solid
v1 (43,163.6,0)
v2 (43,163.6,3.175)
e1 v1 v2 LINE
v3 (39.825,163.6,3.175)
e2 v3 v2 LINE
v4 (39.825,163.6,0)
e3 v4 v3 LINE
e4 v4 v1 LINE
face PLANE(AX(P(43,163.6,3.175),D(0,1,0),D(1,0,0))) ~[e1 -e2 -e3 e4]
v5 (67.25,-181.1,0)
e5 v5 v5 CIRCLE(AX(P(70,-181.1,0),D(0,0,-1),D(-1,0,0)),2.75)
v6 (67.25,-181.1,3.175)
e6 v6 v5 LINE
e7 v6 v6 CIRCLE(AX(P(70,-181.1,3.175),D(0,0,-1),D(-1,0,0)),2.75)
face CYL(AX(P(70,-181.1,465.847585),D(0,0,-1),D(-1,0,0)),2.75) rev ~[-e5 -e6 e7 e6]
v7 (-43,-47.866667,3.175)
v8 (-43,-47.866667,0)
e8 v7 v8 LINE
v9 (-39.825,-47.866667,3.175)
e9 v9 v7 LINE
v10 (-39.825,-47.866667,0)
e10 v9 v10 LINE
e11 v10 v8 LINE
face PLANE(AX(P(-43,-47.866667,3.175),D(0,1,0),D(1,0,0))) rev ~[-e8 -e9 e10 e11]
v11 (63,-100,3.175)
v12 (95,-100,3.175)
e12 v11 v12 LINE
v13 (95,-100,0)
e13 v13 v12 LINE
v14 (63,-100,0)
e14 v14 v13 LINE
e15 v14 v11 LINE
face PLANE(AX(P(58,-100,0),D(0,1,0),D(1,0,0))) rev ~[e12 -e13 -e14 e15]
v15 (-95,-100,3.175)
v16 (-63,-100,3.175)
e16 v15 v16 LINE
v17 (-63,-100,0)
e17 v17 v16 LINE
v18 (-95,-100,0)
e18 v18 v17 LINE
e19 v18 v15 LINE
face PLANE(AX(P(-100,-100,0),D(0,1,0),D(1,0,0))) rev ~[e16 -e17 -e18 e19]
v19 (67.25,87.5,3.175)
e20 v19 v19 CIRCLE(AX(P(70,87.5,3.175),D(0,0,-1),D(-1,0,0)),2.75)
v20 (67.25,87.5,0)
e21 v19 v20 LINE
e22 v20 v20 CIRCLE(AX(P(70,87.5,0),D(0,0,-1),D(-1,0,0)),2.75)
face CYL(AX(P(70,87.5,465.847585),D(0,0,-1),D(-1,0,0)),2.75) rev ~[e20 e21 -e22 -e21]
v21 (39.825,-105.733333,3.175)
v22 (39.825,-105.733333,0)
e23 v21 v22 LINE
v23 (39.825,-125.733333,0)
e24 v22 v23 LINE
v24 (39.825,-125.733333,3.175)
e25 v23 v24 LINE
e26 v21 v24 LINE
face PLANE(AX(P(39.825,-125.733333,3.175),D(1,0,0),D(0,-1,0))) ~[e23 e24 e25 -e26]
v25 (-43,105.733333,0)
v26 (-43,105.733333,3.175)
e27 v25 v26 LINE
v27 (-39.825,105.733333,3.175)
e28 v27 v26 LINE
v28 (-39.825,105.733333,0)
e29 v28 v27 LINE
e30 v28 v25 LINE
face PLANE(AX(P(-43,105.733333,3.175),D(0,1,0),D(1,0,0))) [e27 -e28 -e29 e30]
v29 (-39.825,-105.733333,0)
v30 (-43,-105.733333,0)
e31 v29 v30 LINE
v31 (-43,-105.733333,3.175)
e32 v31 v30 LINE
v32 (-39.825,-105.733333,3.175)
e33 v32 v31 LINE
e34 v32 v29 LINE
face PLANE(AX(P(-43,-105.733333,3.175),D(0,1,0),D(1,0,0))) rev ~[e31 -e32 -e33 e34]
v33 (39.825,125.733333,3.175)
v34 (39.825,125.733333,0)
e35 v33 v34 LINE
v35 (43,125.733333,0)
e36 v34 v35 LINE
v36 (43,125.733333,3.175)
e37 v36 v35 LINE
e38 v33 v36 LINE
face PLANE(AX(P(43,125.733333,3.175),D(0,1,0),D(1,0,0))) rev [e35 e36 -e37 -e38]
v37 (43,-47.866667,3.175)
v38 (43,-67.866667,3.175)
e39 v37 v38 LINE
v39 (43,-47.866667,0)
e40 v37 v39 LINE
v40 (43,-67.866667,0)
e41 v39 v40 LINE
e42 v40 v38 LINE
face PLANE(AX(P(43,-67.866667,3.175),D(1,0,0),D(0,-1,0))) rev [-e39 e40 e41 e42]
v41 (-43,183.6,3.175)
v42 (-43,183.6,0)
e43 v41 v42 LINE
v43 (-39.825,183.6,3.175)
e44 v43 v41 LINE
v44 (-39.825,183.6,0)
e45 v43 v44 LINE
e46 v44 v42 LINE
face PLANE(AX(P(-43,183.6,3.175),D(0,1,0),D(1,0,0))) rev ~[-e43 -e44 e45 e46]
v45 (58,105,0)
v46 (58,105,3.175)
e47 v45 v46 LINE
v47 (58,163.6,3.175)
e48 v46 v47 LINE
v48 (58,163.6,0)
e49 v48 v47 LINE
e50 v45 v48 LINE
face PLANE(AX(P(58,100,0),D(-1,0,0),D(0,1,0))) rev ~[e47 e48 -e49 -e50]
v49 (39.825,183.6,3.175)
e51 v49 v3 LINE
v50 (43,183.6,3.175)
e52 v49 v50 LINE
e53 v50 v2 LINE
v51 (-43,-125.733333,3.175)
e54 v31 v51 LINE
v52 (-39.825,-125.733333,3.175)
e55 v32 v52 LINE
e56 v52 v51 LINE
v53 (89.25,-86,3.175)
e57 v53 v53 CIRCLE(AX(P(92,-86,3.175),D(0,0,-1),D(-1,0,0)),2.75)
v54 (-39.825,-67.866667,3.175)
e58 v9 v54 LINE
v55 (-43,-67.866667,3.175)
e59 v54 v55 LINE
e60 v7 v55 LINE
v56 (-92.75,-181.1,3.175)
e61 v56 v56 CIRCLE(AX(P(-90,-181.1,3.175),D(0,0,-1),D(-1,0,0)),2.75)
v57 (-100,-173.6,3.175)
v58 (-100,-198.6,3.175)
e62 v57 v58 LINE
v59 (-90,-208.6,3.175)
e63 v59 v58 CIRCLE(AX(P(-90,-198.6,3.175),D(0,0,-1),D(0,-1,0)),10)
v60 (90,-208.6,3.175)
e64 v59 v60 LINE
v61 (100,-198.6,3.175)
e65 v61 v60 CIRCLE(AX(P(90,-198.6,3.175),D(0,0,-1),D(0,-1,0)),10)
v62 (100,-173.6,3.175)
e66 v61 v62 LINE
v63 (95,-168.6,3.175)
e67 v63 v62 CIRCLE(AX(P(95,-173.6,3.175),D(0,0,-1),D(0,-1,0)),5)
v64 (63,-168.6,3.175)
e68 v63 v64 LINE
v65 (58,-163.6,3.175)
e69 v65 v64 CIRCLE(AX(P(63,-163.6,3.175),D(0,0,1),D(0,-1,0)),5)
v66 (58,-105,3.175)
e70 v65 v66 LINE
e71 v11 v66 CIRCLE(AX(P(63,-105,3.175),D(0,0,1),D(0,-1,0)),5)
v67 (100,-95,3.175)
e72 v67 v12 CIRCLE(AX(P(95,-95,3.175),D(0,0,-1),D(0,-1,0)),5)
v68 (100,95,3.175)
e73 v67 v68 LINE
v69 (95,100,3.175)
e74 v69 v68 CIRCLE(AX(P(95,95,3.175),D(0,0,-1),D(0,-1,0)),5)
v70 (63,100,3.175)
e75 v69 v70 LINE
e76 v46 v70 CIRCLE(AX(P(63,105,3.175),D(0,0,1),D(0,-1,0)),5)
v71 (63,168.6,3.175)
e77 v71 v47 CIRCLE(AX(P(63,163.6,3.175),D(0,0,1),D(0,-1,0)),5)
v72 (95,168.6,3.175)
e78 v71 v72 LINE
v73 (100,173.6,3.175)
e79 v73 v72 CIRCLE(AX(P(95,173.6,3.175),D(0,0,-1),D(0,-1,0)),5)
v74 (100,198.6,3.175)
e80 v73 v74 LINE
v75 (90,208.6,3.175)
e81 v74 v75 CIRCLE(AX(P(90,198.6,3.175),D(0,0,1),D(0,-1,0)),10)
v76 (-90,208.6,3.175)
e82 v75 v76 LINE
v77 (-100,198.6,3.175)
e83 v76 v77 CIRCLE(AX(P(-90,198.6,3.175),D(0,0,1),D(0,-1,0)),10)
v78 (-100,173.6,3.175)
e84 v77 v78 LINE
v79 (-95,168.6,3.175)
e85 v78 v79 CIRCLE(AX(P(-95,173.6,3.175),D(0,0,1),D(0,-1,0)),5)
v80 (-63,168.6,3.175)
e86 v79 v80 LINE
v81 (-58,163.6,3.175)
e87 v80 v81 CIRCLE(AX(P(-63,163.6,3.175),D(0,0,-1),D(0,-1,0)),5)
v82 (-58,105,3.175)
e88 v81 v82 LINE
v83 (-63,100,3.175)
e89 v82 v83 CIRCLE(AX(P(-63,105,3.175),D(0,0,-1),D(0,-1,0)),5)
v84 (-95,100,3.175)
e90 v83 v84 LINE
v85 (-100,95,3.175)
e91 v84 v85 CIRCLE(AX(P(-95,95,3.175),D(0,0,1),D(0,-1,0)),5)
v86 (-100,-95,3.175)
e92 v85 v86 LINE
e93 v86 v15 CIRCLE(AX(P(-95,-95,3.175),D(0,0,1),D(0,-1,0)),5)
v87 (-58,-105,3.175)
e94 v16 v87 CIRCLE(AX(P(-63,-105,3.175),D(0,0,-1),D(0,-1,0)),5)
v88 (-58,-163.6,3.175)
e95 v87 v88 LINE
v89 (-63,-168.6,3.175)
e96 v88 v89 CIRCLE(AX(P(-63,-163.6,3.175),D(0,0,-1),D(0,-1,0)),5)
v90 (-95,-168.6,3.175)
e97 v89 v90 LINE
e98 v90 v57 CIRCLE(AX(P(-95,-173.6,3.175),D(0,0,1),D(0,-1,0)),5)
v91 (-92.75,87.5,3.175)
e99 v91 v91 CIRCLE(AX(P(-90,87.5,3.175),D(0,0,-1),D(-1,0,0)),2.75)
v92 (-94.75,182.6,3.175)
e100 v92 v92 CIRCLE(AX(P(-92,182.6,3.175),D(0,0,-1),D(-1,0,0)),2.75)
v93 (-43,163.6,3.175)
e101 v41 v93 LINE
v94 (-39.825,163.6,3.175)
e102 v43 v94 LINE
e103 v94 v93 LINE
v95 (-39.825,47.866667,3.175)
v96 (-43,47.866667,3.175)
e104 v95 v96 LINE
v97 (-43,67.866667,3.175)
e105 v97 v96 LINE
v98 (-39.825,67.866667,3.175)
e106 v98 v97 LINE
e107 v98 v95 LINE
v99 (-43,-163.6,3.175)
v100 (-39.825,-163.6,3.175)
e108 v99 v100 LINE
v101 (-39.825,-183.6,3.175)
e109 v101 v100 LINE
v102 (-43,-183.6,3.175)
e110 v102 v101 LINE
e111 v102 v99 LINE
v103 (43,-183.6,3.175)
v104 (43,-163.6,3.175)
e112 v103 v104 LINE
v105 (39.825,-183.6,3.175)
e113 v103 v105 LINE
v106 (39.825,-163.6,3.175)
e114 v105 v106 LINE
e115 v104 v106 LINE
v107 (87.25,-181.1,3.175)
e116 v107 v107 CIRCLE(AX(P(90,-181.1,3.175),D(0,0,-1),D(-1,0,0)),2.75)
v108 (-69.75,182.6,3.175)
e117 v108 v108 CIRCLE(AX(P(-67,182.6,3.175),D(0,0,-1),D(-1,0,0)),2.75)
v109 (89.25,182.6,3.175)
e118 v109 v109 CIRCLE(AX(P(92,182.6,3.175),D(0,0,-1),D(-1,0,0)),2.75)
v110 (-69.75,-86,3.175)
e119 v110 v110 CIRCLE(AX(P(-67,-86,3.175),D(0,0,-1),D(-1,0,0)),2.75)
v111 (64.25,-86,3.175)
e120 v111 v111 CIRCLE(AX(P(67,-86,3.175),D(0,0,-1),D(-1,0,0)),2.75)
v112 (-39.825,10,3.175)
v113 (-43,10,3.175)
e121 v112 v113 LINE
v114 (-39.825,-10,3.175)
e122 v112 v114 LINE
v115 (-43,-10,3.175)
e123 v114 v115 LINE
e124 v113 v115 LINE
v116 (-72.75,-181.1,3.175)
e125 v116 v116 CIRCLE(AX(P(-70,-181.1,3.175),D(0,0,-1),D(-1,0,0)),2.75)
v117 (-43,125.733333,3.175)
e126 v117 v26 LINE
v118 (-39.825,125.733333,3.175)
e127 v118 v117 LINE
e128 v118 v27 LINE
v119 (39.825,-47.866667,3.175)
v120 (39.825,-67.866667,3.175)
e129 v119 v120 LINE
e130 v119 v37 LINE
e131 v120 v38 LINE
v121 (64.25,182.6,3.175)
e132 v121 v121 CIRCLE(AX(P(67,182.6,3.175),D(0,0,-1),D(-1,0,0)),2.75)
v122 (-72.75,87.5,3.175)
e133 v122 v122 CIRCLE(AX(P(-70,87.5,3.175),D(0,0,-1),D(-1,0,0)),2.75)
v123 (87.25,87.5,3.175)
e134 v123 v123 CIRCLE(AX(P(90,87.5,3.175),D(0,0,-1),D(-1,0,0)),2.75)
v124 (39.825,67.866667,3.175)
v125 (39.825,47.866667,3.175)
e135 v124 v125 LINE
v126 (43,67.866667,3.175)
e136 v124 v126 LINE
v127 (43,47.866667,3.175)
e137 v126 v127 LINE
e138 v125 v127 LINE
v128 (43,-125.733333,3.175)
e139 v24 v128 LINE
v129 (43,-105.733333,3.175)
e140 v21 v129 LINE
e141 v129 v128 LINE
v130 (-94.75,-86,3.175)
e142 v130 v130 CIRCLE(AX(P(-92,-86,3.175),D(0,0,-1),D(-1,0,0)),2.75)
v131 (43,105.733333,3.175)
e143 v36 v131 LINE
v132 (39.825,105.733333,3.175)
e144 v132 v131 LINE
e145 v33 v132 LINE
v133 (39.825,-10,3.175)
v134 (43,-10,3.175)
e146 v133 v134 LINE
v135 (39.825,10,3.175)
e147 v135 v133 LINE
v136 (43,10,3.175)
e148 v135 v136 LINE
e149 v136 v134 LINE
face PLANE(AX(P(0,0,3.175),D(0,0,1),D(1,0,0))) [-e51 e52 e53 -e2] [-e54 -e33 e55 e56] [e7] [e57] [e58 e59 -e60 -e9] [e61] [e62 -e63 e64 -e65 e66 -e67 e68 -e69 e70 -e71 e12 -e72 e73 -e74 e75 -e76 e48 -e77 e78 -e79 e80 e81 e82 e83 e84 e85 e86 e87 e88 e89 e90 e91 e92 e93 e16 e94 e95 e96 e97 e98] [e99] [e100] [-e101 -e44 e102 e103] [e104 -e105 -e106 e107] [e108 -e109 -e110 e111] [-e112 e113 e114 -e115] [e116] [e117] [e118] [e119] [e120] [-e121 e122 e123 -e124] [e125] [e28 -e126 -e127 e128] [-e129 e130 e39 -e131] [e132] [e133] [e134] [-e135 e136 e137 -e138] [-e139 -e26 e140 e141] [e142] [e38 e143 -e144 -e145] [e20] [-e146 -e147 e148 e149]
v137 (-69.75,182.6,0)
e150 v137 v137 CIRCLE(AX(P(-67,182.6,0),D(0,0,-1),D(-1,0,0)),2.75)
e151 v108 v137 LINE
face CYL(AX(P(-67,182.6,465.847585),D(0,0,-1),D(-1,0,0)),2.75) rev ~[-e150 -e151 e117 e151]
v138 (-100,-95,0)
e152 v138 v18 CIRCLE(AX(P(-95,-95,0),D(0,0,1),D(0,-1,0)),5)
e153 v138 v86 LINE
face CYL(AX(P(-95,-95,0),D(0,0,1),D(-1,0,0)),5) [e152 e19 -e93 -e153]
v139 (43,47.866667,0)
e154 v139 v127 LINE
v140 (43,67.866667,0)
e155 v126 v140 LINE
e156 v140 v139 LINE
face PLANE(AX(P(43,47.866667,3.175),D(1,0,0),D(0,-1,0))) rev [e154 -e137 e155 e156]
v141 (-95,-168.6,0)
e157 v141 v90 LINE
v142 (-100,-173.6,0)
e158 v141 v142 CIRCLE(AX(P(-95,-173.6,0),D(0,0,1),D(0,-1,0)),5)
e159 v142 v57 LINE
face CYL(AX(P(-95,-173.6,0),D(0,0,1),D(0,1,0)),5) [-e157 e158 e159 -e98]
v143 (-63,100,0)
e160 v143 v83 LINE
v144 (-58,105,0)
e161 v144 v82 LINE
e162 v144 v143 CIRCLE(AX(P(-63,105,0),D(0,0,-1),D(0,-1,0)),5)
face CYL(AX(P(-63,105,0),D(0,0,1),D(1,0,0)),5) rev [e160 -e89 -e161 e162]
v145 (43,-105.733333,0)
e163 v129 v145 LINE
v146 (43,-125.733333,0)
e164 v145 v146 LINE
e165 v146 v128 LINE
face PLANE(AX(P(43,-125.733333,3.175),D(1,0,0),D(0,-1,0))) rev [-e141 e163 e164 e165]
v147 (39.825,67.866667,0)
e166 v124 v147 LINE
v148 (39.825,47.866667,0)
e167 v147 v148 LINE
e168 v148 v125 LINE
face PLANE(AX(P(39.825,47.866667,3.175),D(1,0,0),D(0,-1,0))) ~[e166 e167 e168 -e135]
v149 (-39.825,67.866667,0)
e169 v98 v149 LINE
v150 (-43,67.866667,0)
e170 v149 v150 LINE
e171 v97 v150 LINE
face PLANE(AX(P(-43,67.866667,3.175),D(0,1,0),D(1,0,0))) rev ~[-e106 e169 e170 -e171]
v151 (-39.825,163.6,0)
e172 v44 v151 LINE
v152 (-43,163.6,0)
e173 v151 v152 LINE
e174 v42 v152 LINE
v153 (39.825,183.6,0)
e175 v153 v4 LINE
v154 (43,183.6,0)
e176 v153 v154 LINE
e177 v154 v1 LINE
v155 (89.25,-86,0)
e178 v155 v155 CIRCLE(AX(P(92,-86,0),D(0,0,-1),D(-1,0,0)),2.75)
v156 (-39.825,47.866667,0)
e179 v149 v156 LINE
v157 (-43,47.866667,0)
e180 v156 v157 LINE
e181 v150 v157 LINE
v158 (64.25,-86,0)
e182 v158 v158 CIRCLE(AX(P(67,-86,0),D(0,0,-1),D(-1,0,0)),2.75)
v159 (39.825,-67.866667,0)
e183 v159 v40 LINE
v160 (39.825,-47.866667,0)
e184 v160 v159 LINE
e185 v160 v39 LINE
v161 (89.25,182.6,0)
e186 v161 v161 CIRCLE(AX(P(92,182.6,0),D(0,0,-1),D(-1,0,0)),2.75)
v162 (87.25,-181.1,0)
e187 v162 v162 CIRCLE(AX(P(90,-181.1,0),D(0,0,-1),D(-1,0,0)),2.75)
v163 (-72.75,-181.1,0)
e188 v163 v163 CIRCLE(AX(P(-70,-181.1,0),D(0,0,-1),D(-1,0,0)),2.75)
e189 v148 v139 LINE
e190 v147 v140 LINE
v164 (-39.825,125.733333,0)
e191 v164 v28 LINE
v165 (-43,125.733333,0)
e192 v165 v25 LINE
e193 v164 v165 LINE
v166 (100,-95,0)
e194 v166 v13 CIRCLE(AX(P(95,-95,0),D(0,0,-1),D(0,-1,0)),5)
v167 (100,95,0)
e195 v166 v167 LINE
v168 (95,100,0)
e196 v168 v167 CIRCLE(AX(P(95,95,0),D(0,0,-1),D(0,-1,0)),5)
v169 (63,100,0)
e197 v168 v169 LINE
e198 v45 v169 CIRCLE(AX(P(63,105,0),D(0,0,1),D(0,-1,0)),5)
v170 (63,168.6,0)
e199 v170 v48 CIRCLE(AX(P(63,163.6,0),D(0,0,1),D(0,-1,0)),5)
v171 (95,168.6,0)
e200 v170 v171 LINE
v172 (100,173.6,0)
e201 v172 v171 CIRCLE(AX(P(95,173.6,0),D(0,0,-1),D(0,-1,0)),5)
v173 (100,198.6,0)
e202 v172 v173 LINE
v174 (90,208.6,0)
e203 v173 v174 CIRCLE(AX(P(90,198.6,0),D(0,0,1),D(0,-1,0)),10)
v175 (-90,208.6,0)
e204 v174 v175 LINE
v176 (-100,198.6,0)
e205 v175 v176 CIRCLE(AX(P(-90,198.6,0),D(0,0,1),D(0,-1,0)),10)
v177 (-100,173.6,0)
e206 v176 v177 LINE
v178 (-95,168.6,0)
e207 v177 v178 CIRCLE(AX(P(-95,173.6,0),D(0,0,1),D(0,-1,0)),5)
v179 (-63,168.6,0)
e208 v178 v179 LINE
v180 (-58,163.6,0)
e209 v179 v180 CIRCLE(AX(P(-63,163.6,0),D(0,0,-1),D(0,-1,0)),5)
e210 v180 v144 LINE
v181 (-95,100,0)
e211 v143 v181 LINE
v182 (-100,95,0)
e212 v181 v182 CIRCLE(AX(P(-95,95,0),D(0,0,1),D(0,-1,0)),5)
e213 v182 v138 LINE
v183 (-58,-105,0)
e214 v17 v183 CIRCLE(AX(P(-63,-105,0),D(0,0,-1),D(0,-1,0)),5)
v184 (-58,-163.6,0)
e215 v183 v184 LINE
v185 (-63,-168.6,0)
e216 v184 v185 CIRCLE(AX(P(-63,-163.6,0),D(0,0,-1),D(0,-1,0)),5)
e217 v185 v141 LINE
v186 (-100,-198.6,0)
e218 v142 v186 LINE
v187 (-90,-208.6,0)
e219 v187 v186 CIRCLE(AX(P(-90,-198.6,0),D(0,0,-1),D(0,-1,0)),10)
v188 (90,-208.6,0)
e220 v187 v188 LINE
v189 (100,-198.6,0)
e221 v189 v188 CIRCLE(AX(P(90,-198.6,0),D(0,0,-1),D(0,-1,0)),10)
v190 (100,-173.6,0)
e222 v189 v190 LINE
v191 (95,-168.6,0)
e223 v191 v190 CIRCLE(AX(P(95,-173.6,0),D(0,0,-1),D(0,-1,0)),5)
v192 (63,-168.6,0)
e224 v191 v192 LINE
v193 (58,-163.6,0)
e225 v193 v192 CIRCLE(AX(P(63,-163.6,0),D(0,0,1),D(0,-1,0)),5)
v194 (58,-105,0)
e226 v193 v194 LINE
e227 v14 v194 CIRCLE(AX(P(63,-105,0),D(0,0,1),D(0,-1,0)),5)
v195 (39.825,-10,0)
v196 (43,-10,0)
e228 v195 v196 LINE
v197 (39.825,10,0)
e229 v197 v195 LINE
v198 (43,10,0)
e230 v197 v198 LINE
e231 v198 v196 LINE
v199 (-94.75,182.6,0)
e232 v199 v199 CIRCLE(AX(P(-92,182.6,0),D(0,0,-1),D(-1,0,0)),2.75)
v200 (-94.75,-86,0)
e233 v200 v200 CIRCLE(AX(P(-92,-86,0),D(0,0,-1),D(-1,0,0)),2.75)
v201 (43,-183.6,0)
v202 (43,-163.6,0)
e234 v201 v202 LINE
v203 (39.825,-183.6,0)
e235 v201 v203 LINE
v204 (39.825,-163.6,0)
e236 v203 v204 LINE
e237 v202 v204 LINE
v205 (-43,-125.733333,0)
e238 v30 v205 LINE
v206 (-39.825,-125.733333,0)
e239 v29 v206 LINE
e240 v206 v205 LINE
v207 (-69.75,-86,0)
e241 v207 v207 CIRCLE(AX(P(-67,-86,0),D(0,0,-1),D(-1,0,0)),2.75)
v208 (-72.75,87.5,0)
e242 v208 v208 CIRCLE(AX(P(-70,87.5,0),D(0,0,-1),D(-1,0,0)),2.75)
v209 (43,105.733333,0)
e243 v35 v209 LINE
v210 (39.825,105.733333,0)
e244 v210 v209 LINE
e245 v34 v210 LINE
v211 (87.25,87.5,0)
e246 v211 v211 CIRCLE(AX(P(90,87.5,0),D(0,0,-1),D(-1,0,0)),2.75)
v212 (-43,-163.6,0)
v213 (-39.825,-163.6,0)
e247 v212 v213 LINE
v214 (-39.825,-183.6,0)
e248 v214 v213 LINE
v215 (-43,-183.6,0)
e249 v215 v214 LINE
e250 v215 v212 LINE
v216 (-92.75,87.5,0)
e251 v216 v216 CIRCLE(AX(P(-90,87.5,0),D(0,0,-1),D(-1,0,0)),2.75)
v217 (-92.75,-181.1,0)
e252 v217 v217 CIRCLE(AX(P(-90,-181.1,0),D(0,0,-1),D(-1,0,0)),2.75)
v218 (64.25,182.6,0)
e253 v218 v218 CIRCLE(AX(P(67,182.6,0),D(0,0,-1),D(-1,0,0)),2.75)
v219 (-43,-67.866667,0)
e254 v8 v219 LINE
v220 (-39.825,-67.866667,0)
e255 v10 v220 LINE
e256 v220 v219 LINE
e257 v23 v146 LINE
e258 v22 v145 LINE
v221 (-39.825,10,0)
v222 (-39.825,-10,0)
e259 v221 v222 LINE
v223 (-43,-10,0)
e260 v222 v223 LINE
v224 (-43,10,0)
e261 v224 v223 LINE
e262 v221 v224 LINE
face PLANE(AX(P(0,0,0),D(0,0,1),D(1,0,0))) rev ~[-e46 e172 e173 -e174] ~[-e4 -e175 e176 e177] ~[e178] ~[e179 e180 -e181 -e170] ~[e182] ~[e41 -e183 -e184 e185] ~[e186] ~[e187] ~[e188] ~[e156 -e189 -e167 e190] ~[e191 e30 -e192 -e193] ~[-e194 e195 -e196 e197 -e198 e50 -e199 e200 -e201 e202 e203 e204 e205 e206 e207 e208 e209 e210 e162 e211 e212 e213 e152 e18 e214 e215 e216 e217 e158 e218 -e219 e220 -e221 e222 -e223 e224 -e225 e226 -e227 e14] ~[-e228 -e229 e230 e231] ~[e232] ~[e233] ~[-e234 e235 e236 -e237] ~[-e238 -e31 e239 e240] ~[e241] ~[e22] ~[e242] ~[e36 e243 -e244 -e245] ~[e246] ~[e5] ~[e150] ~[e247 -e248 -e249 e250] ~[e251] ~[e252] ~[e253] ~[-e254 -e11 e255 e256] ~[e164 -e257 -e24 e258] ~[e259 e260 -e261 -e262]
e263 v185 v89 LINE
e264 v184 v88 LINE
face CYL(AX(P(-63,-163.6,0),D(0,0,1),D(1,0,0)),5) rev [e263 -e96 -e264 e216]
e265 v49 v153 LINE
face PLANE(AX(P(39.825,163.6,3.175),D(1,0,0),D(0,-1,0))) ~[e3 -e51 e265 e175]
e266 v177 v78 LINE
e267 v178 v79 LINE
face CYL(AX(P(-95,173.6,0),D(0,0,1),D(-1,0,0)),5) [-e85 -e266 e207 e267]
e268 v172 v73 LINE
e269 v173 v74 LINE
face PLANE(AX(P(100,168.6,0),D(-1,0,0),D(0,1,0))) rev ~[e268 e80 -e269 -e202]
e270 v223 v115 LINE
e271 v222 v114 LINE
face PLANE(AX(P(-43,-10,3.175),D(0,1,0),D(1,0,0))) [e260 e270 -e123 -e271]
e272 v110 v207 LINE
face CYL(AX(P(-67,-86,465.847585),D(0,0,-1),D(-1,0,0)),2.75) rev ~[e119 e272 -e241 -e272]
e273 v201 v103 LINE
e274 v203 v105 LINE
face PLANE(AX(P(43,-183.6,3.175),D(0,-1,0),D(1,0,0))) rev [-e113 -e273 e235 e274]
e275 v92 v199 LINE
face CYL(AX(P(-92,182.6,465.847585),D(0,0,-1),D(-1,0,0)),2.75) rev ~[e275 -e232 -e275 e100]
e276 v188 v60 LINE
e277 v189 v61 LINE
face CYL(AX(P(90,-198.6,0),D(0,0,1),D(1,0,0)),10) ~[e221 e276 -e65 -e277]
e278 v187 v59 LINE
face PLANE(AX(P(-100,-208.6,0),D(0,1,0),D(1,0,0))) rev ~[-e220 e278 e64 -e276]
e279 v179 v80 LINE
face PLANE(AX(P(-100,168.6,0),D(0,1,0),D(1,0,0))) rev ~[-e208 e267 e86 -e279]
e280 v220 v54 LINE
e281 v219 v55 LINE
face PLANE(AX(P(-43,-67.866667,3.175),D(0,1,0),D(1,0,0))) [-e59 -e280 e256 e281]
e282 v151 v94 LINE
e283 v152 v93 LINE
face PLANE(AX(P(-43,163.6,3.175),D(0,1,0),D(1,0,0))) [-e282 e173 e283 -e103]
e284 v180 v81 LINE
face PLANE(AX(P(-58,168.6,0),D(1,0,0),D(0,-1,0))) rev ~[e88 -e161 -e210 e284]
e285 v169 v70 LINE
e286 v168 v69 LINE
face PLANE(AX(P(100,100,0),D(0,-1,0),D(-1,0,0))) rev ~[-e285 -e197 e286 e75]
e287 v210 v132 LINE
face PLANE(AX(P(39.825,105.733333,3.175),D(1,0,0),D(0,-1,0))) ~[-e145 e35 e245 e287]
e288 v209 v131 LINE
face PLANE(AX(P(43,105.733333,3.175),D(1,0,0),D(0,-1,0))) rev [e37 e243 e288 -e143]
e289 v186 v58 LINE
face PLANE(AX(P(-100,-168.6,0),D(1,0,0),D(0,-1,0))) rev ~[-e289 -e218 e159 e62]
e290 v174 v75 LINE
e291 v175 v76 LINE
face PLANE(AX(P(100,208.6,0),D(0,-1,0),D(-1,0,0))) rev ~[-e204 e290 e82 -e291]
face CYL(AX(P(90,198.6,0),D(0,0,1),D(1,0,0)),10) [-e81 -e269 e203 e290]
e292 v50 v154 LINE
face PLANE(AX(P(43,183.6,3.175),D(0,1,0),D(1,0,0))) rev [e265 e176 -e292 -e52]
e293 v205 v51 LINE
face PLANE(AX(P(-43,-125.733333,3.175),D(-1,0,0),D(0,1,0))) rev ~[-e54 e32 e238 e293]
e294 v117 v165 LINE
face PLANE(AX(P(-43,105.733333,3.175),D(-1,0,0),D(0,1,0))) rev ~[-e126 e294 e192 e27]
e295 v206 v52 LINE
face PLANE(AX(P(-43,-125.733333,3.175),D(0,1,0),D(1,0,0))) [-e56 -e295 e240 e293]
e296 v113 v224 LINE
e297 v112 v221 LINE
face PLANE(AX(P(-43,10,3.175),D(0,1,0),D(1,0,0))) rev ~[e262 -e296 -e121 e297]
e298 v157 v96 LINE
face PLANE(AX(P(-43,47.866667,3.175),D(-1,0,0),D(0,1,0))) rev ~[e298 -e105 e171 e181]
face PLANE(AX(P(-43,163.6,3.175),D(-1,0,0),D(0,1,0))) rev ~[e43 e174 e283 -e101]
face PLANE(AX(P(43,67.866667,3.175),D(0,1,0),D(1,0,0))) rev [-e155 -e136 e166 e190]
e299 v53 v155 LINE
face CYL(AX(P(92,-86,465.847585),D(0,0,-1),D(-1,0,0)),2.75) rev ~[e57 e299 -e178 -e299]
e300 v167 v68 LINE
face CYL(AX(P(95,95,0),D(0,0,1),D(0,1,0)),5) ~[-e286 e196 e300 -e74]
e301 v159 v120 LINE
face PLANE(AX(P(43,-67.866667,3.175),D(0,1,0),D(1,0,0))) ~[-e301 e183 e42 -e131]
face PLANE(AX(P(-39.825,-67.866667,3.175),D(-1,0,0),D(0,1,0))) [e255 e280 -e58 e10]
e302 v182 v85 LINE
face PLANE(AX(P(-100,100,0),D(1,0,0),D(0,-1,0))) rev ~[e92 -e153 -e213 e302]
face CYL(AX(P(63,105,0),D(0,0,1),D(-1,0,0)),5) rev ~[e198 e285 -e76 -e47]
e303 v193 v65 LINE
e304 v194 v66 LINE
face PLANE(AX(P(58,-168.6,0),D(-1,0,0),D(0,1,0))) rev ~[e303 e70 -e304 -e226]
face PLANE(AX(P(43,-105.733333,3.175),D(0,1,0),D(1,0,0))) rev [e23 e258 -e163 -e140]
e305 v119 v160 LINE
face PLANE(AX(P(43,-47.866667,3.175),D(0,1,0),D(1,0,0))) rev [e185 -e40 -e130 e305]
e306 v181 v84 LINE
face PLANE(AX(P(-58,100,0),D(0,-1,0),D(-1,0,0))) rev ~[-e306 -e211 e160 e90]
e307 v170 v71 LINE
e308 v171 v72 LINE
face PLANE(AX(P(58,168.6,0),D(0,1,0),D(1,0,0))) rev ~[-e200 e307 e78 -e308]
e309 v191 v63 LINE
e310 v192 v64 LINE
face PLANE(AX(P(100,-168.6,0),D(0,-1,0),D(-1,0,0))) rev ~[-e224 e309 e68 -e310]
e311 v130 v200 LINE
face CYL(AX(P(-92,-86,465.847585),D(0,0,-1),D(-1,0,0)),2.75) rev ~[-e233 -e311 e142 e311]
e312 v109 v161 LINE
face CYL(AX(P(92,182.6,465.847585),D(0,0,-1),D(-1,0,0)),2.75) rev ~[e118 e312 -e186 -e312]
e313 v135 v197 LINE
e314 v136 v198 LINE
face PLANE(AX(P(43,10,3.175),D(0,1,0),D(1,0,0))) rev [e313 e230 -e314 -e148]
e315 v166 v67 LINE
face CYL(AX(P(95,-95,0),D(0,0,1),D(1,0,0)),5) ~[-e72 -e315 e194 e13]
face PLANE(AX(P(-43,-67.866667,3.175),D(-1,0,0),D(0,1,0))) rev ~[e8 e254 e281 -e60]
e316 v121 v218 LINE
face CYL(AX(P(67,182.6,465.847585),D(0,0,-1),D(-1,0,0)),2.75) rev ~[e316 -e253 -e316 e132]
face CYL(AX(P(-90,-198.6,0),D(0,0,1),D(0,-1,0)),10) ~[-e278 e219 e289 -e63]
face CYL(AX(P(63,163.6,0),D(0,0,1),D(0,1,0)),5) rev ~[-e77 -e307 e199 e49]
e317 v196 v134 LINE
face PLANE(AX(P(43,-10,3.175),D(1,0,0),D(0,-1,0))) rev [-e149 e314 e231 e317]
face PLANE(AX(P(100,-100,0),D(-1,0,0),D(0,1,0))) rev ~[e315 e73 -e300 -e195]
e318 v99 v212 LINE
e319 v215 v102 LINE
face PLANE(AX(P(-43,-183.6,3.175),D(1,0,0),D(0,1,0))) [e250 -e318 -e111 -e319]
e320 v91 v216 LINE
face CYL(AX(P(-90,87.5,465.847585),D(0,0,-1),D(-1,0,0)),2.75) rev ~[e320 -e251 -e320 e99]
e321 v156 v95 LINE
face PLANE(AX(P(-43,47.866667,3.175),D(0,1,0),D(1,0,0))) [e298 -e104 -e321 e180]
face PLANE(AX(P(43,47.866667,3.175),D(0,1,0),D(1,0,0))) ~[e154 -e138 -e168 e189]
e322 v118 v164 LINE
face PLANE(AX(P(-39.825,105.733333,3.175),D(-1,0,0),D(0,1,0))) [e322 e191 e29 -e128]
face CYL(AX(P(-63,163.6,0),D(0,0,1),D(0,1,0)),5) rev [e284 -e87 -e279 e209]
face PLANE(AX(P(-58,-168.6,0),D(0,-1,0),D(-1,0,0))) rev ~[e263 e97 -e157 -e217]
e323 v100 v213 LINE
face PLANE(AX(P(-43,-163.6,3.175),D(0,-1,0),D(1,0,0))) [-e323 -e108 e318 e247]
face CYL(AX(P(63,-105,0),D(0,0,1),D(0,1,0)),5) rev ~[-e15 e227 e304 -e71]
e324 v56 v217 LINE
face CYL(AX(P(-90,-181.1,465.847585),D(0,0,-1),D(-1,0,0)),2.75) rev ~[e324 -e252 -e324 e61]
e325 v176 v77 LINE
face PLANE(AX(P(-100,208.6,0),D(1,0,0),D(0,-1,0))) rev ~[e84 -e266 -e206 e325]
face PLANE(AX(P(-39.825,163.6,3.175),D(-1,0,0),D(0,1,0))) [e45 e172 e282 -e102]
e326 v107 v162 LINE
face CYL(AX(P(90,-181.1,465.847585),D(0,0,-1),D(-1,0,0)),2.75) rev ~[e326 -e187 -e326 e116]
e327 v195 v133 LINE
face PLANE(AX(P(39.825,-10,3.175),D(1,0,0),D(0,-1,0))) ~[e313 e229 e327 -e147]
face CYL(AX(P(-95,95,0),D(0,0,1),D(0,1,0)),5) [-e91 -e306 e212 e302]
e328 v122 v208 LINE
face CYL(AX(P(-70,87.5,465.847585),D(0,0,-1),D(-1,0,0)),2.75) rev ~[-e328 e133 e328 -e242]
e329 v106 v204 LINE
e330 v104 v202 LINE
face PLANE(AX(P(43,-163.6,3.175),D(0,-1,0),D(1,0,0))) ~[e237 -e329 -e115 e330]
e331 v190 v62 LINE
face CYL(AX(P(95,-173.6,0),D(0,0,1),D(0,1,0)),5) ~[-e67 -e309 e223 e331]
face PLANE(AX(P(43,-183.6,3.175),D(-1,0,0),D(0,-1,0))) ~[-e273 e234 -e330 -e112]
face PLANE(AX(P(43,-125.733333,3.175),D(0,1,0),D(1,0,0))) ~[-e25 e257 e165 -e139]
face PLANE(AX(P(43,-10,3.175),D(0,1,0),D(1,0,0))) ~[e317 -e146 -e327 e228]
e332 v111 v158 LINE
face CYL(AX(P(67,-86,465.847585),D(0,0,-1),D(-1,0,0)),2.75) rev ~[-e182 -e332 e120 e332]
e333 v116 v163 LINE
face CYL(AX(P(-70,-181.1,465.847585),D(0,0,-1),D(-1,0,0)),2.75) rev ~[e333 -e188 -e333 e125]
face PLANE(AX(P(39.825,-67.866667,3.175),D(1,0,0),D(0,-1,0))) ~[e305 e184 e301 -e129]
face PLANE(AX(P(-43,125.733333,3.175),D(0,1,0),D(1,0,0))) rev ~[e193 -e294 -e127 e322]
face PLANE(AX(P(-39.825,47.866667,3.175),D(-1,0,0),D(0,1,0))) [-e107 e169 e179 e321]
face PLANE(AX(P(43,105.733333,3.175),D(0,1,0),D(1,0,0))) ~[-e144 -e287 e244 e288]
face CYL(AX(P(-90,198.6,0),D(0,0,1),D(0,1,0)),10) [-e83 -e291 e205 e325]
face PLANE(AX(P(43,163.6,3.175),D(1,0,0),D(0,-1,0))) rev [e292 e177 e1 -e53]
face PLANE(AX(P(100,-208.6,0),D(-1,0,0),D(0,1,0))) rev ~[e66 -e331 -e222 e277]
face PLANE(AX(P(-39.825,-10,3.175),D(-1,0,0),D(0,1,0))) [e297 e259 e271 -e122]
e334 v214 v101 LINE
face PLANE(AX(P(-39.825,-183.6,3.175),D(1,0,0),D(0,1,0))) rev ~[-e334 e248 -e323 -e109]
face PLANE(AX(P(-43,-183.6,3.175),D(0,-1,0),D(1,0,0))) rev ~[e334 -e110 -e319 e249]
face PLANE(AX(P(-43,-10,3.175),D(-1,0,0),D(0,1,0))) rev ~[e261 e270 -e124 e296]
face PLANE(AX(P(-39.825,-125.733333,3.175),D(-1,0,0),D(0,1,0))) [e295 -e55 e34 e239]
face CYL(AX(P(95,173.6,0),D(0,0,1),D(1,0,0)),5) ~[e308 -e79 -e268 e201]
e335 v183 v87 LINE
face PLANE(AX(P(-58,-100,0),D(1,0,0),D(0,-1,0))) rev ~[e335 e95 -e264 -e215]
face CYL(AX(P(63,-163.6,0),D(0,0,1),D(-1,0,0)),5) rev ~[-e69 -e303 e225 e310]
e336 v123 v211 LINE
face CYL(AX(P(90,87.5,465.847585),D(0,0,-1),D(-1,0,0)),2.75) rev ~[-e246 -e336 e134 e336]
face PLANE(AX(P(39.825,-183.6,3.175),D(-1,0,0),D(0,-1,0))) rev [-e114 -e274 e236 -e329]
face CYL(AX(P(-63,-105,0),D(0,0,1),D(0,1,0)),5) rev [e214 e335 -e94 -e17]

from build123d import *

# Parameters (mm, degrees)
BOSS_EXTRU_1_DEPTH      = 3.175
ESQUISSE2_W             = 3.175
ESQUISSE2_H             = 20
ENL_V_MAT_EXTRU_1_DEPTH = 232.35263263
D_GAGEMENT_M51_D        = 5.5
CONG_1_R                = 5
CONG_2_R                = 10


with BuildPart() as part:
    # Esquisse1 → Boss.-Extru.1 (new body)
    with BuildSketch(Plane.XY):
        Polygon((100, 208.6), (-100, 208.6), (-100, 168.6), (-58, 168.6), (-58, 100), (-100, 100), (-100, -100), (-58, -100), (-58, -168.6), (-100, -168.6), (-100, -208.6), (100, -208.6), (100, -168.6), (58, -168.6), (58, -100), (100, -100), (100, 100), (58, 100), (58, 168.6), (100, 168.6), align=None)
    extrude(amount=BOSS_EXTRU_1_DEPTH)

    # Esquisse2 → Enlèv. mat.-Extru.1 (cut, symmetric)
    with BuildSketch(Plane.XY.offset(3.175)):
        with Locations((-41.4125, 173.6)):
            Rectangle(ESQUISSE2_W, ESQUISSE2_H)
        with Locations((-41.4125, 115.733333333)):
            Rectangle(ESQUISSE2_W, ESQUISSE2_H)
        with Locations((-41.4125, 57.866666667)):
            Rectangle(ESQUISSE2_W, ESQUISSE2_H)
        with Locations((-41.4125, 0)):
            Rectangle(ESQUISSE2_W, ESQUISSE2_H)
        with Locations((-41.4125, -57.866666667)):
            Rectangle(ESQUISSE2_W, ESQUISSE2_H)
        with Locations((-41.4125, -115.733333333)):
            Rectangle(ESQUISSE2_W, ESQUISSE2_H)
        with Locations((-41.4125, -173.6)):
            Rectangle(ESQUISSE2_W, ESQUISSE2_H)
    enl_v_mat_extru_1 = extrude(amount=ENL_V_MAT_EXTRU_1_DEPTH, both=True, mode=Mode.SUBTRACT)

    # Symétrie1: Enlèv. mat.-Extru.1 across plane
    add(enl_v_mat_extru_1.mirror(Plane(origin=(0, 0, 0), x_dir=(0, 0, 1), z_dir=(1, 0, 0))), mode=Mode.SUBTRACT)

    # Dégagement M51 (through all)
    with Locations(Plane(origin=(90, -181.1, 3.175), x_dir=(1, 0, 0), z_dir=(0, 0, 1))):
        with Locations((0, 0), (-20, 0), (-180, 0), (-160, 0), (-182, 95.1), (-157, 95.1), (-23, 95.1), (2, 95.1), (-20, 268.6), (0, 268.6), (-23, 363.7), (2, 363.7), (-180, 268.6), (-160, 268.6), (-182, 363.7), (-157, 363.7)):
            Hole(D_GAGEMENT_M51_D / 2)

    # Congé1
    cong_1_edges = [part.edges().sort_by_distance(p)[0] for p in [
        (100, 168.6, 1.5875),
        (58, 168.6, 1.5875),
        (58, 100, 1.5875),
        (100, 100, 1.5875),
        (100, -100, 1.5875),
        (58, -100, 1.5875),
        (58, -168.6, 1.5875),
        (100, -168.6, 1.5875),
        (-100, -168.6, 1.5875),
        (-58, -168.6, 1.5875),
        (-58, -100, 1.5875),
        (-100, -100, 1.5875),
        (-100, 100, 1.5875),
        (-58, 100, 1.5875),
        (-58, 168.6, 1.5875),
        (-100, 168.6, 1.5875),
    ]]
    fillet(cong_1_edges, radius=CONG_1_R)

    # Congé2
    cong_2_edges = [part.edges().sort_by_distance(p)[0] for p in [
        (100, -208.6, 1.5875),
        (-100, -208.6, 1.5875),
        (-100, 208.6, 1.5875),
        (100, 208.6, 1.5875),
    ]]
    fillet(cong_2_edges, radius=CONG_2_R)


solid = part.part
